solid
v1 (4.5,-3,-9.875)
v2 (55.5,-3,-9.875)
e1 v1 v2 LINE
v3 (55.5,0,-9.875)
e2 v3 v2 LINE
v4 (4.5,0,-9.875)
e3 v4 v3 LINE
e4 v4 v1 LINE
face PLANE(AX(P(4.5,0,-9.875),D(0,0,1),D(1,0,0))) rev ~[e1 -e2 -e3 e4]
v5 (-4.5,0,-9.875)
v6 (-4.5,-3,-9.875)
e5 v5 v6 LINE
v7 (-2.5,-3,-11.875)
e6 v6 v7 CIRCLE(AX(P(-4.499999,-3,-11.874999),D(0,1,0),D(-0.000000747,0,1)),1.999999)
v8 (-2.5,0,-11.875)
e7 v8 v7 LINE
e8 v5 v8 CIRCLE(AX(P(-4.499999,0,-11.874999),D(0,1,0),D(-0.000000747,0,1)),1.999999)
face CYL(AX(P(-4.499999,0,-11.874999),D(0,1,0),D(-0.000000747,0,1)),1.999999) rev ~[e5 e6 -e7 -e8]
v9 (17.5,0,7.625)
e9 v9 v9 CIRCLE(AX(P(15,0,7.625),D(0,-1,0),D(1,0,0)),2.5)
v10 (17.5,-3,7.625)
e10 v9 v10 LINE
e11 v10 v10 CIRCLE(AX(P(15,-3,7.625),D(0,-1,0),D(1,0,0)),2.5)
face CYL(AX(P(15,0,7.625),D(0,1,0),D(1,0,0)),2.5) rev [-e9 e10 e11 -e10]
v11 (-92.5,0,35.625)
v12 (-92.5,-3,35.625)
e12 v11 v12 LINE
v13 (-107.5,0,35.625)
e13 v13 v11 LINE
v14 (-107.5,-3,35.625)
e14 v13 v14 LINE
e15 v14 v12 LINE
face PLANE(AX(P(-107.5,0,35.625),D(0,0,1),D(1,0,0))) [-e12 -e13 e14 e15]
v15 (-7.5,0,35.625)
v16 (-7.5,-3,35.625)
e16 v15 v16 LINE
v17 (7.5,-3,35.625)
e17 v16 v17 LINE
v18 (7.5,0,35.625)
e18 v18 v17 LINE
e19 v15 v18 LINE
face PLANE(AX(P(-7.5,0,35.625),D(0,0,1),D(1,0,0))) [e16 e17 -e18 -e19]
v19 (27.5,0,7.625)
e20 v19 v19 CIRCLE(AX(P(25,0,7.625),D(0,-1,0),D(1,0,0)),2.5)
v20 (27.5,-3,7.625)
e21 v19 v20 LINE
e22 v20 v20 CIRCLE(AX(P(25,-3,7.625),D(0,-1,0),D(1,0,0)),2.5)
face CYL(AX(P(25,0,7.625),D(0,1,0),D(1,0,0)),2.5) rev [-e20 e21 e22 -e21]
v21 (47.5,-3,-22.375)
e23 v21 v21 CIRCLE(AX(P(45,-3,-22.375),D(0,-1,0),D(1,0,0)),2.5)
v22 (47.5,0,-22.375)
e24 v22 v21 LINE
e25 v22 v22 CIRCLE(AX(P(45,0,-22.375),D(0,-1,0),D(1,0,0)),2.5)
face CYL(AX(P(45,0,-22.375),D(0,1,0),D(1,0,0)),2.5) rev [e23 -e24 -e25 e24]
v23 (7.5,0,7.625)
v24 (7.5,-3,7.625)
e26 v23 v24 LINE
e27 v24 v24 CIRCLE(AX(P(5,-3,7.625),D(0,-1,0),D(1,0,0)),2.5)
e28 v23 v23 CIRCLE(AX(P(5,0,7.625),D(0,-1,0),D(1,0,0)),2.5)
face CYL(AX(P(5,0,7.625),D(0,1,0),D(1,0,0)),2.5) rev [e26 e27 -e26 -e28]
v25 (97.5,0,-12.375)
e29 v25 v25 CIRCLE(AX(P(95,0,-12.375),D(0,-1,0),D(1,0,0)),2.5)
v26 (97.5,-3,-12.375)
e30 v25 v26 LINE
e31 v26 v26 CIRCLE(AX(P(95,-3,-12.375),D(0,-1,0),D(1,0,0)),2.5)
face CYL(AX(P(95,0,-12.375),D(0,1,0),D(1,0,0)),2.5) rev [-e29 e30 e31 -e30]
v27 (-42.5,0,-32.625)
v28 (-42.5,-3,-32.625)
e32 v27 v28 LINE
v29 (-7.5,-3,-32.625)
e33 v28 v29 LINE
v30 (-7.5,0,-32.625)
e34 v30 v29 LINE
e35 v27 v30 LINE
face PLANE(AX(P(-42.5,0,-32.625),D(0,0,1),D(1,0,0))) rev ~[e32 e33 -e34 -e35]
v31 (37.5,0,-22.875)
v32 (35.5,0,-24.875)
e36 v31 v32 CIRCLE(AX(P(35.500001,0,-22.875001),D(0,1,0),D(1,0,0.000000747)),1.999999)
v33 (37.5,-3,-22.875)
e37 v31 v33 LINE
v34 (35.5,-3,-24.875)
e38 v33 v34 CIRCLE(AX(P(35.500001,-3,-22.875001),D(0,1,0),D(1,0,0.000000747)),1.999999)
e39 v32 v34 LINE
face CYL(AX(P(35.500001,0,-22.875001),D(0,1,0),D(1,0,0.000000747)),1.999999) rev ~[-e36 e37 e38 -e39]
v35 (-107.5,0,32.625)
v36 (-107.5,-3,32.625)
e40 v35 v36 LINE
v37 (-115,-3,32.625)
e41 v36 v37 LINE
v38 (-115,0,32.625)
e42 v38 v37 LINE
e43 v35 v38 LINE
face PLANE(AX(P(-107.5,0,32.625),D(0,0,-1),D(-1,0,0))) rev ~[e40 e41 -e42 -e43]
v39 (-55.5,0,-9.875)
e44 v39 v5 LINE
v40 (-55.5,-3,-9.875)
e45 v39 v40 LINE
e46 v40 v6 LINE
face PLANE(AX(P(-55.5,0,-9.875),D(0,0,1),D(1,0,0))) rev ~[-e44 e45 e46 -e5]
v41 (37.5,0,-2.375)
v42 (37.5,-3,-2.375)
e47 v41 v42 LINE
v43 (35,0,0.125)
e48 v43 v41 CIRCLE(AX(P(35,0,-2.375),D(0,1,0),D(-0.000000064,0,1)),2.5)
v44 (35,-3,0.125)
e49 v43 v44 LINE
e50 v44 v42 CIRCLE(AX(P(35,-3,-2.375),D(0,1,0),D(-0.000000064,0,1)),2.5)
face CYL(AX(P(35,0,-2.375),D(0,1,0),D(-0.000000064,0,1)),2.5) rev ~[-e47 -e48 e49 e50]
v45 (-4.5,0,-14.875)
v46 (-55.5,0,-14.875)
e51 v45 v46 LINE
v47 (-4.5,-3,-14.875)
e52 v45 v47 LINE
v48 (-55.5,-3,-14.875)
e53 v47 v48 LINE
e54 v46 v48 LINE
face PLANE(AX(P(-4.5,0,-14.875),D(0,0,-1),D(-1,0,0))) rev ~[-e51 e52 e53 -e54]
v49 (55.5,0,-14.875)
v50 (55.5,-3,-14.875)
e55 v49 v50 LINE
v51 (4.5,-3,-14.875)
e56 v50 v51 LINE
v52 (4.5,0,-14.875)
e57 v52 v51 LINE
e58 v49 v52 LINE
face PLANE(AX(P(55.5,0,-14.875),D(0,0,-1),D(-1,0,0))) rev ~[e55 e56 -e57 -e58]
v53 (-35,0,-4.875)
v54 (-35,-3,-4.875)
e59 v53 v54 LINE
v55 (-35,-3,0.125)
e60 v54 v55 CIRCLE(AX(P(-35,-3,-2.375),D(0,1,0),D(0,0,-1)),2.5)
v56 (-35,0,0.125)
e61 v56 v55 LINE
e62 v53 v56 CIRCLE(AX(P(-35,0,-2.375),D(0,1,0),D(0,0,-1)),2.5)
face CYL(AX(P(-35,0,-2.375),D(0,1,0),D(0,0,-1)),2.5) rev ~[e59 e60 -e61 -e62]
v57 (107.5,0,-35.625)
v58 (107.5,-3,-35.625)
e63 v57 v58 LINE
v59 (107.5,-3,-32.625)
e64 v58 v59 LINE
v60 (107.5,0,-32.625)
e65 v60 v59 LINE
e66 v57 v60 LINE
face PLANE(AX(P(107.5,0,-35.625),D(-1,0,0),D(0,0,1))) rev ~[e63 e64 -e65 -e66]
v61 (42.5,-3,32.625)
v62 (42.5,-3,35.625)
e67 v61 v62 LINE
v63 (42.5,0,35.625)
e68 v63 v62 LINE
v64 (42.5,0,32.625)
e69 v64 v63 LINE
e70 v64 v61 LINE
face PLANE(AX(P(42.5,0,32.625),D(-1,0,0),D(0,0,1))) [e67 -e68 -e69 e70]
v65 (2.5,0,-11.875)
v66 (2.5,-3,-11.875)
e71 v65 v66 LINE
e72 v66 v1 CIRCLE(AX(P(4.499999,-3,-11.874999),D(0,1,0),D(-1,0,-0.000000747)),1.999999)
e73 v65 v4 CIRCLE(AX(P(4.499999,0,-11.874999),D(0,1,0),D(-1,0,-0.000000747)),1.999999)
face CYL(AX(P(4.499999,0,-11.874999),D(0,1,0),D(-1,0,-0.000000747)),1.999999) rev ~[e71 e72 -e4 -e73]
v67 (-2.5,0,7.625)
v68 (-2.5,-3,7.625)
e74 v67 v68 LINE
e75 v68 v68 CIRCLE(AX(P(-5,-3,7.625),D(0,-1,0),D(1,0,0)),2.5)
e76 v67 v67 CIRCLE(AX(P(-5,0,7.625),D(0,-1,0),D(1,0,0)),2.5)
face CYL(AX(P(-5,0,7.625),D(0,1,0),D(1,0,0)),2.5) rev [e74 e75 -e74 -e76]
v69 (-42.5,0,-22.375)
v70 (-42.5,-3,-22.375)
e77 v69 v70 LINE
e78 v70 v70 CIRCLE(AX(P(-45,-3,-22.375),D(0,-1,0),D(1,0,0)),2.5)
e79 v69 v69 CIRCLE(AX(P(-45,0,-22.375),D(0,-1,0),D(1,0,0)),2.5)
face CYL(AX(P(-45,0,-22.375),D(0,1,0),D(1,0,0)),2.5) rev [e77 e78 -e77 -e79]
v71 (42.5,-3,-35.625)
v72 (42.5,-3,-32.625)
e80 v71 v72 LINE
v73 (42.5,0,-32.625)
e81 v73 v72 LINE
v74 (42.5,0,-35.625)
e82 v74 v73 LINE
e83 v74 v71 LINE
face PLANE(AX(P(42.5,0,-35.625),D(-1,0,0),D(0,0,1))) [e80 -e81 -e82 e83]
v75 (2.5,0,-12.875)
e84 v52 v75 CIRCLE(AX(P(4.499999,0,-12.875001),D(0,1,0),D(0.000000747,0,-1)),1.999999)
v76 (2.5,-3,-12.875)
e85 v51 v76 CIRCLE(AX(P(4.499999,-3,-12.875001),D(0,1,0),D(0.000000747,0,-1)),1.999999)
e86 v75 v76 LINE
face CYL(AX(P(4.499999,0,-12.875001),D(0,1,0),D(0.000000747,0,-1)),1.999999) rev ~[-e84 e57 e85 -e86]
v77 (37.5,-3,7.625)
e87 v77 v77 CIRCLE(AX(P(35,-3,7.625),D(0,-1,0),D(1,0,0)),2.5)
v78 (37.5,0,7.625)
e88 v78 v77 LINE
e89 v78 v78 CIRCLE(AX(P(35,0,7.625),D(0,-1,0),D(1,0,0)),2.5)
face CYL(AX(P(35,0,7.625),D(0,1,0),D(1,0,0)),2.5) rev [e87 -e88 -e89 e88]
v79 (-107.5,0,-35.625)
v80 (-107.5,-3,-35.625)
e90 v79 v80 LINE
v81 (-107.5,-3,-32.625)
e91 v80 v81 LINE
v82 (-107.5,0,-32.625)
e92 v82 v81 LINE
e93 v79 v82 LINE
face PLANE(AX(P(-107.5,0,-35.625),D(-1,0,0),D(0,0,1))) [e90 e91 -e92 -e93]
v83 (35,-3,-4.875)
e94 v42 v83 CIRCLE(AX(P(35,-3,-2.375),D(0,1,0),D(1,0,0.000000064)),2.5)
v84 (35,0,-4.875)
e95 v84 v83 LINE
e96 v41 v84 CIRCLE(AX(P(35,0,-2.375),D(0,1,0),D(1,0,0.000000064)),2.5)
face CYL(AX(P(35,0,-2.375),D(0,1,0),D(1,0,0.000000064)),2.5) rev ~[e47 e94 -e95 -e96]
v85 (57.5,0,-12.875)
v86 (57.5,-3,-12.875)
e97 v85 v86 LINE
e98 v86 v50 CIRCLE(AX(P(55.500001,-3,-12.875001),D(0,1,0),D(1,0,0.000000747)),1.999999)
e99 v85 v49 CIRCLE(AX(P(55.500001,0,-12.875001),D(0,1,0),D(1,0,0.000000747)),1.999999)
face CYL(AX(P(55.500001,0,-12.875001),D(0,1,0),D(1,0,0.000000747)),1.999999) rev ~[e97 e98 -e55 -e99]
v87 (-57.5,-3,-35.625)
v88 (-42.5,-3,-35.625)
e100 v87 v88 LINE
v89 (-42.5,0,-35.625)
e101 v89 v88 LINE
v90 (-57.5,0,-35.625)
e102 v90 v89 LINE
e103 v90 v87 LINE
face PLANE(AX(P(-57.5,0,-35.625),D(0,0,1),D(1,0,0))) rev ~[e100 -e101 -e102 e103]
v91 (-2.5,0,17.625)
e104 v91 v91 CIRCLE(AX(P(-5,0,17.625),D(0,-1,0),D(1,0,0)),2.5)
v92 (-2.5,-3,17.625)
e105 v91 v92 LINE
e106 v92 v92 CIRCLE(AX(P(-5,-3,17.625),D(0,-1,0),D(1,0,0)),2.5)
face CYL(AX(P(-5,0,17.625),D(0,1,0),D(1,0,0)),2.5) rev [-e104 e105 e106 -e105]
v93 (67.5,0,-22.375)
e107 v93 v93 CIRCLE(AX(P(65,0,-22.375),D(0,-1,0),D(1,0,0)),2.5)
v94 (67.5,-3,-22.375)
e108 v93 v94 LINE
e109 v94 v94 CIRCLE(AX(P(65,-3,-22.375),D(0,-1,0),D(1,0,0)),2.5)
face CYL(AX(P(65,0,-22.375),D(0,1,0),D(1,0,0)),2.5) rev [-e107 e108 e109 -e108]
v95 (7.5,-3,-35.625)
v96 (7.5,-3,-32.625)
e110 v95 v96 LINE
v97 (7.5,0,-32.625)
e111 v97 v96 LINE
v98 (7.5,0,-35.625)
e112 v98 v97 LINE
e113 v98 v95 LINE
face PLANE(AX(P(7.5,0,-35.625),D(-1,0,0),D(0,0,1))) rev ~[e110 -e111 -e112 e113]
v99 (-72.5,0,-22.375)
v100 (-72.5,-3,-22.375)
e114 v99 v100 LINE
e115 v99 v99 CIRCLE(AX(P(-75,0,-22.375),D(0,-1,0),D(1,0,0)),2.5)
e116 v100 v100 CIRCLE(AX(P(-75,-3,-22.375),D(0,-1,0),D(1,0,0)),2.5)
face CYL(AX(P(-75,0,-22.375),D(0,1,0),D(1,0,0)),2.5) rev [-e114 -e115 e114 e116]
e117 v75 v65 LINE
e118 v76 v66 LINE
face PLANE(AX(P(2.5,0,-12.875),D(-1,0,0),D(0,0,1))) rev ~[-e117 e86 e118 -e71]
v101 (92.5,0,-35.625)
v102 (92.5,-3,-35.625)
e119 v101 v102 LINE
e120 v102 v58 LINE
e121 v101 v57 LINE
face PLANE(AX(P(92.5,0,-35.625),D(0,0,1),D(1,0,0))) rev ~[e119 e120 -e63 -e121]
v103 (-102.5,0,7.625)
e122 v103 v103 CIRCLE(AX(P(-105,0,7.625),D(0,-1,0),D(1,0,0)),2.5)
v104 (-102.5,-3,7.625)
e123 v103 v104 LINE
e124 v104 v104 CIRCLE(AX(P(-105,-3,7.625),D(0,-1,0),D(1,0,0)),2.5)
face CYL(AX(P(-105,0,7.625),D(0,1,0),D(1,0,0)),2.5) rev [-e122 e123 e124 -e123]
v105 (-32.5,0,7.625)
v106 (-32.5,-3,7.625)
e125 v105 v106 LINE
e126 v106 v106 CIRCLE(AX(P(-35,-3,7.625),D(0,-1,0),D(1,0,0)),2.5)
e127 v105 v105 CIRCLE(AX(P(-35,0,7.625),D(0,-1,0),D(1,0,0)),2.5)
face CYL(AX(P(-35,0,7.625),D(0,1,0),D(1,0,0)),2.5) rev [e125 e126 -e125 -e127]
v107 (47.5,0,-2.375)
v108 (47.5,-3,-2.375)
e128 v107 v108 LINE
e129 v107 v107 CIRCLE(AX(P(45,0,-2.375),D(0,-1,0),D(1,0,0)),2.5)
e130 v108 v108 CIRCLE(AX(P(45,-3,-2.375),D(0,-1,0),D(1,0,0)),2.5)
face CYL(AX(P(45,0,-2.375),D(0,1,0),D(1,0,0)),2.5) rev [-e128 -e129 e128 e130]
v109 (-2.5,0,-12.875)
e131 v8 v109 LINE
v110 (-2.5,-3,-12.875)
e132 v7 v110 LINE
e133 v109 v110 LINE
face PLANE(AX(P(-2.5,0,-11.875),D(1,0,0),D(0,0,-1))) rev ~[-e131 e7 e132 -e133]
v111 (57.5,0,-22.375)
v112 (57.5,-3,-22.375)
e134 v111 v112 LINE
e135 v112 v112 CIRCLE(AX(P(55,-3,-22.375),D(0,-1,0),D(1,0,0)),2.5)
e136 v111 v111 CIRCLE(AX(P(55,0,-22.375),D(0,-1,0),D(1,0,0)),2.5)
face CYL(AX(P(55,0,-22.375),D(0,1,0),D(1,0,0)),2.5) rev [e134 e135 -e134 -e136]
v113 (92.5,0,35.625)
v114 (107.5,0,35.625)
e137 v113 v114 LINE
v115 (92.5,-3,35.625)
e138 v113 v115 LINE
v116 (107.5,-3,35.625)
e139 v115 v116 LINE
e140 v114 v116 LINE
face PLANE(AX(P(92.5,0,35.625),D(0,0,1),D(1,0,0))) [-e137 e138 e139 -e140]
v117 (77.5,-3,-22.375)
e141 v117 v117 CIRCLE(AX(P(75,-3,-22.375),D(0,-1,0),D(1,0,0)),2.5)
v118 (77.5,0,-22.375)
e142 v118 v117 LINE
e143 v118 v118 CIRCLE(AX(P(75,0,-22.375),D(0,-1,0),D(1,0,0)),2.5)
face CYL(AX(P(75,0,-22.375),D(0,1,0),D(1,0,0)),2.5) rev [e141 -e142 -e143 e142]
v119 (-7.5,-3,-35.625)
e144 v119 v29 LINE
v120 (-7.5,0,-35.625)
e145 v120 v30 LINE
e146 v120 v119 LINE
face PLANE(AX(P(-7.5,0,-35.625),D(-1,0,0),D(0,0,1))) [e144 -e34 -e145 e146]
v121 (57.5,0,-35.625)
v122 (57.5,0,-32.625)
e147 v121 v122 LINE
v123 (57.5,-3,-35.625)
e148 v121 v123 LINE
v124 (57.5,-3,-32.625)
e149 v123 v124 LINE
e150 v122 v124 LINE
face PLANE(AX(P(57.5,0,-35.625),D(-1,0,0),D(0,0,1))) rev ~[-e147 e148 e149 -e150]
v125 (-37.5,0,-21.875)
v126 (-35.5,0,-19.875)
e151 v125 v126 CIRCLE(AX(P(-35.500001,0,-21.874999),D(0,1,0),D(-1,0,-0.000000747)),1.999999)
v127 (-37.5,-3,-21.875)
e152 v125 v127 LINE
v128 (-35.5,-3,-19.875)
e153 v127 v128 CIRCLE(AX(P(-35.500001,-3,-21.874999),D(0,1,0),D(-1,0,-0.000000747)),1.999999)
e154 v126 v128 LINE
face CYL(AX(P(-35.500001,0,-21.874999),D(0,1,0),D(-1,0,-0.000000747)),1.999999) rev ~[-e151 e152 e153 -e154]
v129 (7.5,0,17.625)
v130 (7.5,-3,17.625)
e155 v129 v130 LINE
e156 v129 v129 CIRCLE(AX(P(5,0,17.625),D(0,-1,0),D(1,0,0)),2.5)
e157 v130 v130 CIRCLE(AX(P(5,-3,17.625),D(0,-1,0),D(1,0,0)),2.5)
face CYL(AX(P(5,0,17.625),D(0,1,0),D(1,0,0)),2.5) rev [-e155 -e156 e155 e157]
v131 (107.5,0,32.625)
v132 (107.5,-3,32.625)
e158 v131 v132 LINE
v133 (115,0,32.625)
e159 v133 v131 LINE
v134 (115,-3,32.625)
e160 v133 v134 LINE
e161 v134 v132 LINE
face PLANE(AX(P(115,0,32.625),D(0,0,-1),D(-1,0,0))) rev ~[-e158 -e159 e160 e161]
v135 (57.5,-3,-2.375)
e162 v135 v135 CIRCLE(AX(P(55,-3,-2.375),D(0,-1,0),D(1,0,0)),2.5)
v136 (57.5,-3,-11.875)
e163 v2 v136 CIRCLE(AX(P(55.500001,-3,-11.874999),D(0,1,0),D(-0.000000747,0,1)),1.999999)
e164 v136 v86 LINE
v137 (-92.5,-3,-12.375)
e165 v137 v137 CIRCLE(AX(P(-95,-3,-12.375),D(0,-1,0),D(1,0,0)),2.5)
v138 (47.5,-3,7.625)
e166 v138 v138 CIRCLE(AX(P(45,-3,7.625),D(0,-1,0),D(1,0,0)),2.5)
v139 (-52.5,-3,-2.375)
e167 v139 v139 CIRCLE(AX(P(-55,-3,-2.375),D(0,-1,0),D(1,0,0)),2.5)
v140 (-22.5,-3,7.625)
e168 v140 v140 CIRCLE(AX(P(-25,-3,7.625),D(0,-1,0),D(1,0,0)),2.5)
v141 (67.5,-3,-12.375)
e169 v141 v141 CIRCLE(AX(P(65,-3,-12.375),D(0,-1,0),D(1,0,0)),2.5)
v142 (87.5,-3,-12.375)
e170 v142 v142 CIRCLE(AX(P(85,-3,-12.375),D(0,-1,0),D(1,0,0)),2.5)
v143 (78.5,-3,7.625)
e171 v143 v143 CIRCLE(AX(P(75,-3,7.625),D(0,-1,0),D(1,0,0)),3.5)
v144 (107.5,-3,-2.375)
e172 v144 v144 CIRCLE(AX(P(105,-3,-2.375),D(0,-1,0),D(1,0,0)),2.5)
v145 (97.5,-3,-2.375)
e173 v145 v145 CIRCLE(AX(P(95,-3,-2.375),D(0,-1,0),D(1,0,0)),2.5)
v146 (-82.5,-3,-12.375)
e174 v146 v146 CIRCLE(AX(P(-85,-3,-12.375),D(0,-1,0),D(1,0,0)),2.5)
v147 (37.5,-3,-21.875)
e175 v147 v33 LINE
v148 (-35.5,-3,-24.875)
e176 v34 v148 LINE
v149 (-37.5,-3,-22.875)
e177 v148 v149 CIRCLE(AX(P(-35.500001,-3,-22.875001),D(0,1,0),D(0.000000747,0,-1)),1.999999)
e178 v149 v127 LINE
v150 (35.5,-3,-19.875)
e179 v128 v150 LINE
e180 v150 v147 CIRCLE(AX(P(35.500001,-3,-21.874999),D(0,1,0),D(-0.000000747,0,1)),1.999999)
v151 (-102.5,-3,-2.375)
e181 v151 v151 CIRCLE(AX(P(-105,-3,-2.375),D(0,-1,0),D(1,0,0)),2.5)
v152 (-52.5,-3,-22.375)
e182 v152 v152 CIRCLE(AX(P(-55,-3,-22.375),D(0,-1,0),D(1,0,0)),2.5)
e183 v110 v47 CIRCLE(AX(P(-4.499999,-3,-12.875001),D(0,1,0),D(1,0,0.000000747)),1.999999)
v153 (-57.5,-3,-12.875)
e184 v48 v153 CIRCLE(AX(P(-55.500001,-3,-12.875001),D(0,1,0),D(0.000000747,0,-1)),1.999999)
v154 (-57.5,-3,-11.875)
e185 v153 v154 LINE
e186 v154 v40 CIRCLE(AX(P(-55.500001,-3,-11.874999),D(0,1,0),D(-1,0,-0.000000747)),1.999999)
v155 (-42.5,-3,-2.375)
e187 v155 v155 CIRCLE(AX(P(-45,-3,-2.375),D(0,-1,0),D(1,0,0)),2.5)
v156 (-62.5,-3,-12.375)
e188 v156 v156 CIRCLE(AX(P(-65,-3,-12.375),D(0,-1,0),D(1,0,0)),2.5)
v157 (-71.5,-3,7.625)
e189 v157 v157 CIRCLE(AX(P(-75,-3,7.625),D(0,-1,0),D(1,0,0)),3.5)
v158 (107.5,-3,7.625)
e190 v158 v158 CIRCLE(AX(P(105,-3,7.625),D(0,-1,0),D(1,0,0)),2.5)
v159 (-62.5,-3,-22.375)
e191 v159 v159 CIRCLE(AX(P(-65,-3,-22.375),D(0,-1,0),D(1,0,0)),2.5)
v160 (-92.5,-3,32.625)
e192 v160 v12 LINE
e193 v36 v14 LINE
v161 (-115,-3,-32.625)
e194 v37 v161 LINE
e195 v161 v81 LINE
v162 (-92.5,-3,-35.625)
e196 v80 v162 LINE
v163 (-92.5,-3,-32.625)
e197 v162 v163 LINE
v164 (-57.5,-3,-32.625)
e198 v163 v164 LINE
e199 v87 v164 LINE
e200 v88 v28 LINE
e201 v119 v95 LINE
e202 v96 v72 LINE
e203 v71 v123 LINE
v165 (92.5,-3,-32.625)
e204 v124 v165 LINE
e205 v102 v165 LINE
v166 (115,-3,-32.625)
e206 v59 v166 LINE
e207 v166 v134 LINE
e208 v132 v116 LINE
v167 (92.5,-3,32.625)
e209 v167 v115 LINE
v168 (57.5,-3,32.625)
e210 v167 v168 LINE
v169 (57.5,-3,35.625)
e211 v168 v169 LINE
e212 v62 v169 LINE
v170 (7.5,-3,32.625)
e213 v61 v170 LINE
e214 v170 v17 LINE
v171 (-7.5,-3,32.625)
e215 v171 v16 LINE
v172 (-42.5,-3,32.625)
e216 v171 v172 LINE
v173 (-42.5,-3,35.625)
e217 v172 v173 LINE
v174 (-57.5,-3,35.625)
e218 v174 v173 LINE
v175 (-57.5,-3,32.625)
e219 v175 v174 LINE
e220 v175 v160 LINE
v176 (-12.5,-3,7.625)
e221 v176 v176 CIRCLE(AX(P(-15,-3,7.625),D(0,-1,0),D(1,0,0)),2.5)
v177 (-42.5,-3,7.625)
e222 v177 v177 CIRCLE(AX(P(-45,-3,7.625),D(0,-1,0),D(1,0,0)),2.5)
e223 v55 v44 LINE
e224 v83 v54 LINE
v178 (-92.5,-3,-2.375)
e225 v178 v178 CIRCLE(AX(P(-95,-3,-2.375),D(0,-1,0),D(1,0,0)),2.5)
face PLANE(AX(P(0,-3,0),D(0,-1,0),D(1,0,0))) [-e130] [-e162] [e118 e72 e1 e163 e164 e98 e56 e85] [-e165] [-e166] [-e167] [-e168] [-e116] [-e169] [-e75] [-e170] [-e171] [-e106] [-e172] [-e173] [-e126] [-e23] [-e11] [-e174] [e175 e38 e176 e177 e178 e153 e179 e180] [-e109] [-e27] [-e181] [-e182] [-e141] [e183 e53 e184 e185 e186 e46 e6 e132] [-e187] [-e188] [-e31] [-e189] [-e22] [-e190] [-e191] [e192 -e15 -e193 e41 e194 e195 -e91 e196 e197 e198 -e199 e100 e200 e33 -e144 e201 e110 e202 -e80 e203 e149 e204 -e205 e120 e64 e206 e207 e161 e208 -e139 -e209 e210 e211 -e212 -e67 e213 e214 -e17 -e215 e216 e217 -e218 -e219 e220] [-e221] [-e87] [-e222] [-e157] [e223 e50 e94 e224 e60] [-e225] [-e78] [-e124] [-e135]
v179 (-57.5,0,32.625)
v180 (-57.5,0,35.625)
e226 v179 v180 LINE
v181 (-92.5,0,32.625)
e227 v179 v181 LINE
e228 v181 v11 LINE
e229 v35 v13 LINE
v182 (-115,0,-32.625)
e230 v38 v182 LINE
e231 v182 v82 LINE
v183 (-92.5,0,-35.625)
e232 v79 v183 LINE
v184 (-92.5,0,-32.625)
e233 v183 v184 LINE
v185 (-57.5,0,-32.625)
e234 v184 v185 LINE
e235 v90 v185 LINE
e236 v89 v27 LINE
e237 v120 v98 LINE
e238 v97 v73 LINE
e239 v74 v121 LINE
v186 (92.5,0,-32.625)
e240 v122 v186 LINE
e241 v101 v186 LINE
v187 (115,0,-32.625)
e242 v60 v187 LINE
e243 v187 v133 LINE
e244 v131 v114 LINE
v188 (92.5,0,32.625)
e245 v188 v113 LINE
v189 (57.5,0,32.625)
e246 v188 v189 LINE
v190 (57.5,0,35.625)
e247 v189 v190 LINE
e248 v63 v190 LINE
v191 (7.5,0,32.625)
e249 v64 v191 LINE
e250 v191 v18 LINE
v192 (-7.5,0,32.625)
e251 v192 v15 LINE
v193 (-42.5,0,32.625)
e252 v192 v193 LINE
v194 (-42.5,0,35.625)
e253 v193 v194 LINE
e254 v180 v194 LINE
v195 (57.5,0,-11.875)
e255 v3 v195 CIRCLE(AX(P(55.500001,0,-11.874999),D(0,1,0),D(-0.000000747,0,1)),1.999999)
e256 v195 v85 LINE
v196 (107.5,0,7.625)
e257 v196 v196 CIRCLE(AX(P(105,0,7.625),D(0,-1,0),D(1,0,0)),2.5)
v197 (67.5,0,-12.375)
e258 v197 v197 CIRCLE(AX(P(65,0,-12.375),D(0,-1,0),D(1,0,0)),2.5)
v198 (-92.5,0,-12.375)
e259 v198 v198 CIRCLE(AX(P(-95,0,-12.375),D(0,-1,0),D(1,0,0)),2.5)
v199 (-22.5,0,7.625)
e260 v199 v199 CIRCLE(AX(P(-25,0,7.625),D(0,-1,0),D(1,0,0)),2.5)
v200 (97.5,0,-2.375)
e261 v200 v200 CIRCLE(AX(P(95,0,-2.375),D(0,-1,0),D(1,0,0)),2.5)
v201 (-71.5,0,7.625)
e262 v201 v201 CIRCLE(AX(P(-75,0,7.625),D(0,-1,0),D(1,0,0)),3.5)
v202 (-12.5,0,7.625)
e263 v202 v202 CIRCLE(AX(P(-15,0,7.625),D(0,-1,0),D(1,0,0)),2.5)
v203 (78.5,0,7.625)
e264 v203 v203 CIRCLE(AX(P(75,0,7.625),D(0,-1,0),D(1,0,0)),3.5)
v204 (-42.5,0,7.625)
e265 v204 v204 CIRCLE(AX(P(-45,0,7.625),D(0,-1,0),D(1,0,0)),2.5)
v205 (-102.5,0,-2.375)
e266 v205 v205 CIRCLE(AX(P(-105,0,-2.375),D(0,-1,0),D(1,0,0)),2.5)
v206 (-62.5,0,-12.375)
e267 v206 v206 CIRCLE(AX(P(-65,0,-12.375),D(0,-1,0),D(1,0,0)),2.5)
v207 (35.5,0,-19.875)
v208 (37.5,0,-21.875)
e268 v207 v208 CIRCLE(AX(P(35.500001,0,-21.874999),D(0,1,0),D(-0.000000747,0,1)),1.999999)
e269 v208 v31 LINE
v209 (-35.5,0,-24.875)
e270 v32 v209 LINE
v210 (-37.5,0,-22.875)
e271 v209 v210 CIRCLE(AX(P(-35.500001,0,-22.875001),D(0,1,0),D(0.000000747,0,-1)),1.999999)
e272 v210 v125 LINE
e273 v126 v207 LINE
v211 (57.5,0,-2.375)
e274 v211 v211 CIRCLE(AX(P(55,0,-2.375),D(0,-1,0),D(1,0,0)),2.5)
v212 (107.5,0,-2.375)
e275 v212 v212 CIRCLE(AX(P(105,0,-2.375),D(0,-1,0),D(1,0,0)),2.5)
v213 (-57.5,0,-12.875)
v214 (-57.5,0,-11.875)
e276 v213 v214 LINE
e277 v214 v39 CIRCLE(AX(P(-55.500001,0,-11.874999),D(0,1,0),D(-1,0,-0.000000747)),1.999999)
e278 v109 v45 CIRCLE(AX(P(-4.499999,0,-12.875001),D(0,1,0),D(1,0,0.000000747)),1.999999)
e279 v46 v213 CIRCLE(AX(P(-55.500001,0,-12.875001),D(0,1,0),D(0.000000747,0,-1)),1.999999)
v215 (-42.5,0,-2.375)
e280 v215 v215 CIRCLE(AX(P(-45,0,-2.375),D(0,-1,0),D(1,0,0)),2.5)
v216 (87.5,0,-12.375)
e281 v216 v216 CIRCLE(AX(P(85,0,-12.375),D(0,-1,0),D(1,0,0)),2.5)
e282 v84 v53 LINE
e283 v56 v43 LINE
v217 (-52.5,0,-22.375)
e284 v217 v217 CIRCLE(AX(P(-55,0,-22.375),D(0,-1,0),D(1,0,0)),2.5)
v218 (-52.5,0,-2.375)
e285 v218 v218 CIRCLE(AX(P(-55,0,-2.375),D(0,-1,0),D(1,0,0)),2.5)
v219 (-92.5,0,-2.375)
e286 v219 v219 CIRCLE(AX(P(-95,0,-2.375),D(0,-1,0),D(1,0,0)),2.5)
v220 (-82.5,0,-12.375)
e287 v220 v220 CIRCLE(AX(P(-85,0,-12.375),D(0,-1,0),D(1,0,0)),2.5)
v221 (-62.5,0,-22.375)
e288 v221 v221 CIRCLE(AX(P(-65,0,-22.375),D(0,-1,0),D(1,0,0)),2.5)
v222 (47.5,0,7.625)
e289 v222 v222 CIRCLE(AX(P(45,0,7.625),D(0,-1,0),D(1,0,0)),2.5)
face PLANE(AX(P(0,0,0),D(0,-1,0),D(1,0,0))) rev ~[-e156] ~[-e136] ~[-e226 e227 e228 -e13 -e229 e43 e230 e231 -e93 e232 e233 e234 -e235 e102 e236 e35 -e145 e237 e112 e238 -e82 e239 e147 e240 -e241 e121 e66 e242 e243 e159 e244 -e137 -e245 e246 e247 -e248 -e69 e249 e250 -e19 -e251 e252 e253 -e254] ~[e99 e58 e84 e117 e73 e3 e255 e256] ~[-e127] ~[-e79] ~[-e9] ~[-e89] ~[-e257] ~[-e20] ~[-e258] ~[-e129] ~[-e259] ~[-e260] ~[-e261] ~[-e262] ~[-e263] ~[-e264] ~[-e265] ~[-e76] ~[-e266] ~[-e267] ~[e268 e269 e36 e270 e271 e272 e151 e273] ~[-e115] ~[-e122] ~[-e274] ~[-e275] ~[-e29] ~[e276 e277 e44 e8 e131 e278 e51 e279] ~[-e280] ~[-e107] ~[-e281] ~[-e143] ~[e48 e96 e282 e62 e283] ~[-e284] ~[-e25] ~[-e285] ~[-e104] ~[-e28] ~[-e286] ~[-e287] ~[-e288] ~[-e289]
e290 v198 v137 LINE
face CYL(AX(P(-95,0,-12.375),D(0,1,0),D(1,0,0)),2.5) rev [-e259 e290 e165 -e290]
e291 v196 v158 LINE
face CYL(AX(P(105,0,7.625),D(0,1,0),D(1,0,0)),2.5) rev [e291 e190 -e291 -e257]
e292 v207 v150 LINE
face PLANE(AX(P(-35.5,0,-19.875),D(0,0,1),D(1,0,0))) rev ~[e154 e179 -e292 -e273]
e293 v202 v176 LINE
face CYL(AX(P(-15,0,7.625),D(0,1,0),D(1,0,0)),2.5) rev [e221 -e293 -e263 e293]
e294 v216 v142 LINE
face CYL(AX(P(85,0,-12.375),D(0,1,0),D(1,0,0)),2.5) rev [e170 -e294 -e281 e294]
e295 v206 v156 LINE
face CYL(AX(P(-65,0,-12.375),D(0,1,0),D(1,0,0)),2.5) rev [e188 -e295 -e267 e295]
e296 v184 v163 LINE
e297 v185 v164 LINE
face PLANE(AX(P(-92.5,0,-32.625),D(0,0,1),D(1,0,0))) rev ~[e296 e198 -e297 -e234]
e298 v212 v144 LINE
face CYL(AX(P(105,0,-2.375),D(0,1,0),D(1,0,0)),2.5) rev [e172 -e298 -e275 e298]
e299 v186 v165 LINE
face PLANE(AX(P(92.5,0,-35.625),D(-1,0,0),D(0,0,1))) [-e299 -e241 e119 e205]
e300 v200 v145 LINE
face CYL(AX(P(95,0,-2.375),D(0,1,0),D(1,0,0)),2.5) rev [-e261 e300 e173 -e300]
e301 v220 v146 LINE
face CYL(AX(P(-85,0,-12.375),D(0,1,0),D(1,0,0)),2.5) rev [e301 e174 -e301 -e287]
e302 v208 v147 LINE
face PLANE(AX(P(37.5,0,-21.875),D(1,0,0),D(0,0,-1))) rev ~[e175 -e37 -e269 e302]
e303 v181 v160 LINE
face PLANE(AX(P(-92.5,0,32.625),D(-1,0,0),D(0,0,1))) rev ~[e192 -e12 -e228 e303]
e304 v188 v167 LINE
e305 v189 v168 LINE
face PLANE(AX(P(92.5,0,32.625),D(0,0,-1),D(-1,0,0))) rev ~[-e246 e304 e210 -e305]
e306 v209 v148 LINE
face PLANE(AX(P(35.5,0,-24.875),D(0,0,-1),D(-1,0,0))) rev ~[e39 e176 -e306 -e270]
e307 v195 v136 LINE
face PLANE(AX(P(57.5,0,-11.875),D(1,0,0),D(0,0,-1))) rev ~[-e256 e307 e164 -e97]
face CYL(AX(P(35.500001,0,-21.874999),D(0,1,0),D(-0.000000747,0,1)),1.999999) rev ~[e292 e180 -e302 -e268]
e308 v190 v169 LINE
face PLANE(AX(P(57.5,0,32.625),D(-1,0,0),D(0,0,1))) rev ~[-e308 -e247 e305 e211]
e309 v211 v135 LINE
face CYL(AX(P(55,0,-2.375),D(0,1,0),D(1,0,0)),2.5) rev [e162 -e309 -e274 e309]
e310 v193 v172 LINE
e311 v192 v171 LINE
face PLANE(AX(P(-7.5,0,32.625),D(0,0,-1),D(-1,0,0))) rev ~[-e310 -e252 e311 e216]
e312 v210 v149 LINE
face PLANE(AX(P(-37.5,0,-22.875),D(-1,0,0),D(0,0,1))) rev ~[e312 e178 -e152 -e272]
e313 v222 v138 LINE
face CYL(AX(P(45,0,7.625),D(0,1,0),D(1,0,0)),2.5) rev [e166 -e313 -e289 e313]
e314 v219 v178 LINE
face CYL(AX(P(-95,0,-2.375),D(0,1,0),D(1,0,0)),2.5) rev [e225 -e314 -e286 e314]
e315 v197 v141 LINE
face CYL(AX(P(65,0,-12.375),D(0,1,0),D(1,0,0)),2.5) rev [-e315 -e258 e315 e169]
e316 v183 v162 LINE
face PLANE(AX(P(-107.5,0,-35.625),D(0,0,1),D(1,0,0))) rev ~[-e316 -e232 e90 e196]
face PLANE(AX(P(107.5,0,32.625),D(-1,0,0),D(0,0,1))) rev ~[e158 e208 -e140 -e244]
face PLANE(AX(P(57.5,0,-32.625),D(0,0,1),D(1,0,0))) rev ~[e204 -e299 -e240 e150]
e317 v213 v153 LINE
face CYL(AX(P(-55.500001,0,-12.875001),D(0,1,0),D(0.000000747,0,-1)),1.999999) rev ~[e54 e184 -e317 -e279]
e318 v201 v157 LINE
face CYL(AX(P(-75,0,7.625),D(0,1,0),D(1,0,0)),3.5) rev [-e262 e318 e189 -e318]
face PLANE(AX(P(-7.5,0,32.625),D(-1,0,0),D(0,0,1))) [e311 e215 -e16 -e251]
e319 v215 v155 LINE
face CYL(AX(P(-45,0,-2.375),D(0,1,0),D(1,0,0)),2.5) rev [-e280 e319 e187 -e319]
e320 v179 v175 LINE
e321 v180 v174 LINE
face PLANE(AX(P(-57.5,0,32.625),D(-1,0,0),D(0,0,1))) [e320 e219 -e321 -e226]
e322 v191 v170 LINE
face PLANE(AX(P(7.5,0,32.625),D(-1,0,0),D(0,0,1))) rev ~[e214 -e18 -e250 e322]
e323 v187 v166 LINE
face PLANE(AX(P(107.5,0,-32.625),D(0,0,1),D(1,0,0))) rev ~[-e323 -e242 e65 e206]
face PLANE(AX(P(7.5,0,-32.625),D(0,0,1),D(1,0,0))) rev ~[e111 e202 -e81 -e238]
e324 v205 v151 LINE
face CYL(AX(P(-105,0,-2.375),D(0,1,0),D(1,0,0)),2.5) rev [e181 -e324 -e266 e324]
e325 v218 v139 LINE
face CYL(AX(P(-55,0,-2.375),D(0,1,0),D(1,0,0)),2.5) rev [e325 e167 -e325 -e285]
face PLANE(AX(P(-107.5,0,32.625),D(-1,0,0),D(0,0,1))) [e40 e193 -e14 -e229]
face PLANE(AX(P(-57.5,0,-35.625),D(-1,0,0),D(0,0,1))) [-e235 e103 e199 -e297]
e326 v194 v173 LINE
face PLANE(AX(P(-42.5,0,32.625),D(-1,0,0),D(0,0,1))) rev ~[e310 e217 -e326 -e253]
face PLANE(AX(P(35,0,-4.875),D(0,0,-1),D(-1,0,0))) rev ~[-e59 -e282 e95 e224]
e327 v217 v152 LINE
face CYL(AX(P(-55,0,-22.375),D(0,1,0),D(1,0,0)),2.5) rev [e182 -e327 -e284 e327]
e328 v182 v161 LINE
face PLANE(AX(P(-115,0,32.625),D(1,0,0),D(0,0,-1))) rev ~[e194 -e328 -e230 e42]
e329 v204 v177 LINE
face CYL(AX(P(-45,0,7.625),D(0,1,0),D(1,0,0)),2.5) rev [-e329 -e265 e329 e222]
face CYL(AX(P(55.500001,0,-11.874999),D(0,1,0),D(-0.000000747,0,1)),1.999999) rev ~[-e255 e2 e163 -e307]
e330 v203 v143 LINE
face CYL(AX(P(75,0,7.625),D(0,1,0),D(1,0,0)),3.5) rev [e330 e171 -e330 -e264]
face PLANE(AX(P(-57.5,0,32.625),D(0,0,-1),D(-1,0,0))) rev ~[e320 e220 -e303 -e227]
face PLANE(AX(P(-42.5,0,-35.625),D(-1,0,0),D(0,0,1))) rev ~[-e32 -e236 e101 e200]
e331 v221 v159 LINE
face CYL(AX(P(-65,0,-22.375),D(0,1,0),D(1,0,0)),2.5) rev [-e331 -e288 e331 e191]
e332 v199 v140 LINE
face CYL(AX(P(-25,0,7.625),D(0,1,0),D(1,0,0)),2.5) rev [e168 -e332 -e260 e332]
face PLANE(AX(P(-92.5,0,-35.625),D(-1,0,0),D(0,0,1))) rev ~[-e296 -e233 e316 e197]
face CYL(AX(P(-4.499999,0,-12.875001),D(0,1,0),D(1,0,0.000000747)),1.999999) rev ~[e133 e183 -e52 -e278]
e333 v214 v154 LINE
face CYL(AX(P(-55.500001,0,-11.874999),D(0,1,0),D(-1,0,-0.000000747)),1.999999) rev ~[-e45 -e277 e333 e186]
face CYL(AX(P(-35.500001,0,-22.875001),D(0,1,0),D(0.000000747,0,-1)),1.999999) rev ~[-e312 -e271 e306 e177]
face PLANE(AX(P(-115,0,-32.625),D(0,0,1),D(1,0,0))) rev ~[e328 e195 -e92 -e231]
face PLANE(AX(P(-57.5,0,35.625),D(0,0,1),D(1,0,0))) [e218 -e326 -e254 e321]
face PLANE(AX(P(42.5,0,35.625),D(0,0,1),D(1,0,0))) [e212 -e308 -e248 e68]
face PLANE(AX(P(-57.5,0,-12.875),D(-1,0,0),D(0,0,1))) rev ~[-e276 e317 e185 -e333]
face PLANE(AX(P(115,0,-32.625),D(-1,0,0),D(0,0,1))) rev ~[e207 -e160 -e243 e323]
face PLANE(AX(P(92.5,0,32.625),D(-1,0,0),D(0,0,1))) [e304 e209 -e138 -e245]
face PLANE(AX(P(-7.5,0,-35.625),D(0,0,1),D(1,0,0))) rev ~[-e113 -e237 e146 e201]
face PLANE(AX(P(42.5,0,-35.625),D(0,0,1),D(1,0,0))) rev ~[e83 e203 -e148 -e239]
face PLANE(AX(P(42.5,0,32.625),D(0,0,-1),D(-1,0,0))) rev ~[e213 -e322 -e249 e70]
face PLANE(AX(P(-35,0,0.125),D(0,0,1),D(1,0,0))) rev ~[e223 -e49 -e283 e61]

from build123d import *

# Parameters (mm, degrees)
F0_R     = 2.5
F0_R_2   = 3.5
F0_W     = 15
F0_H     = 3
F1_DEPTH = 3


with BuildPart() as f1:
    # F0 (on Front) → F1 (new body)
    with BuildSketch(Plane.XZ):
        Polygon((107.5, -32.625), (115, -32.625), (115, 32.625), (107.5, 32.625), (92.5, 32.625), (57.5, 32.625), (42.5, 32.625), (7.5, 32.625), (-7.5, 32.625), (-42.5, 32.625), (-57.5, 32.625), (-92.5, 32.625), (-107.5, 32.625), (-115, 32.625), (-115, -32.625), (-107.5, -32.625), (-92.5, -32.625), (-57.5, -32.625), (-42.5, -32.625), (-7.5, -32.625), (7.5, -32.625), (42.5, -32.625), (57.5, -32.625), (92.5, -32.625), align=None)
        with Locations((-75, -22.375)):
            Circle(F0_R, mode=Mode.SUBTRACT)
        with Locations((-65, -22.375)):
            Circle(F0_R, mode=Mode.SUBTRACT)
        with Locations((-55, -22.375)):
            Circle(F0_R, mode=Mode.SUBTRACT)
        with Locations((-45, -22.375)):
            Circle(F0_R, mode=Mode.SUBTRACT)
        with Locations((-95, -12.375)):
            Circle(F0_R, mode=Mode.SUBTRACT)
        with Locations((-85, -12.375)):
            Circle(F0_R, mode=Mode.SUBTRACT)
        with Locations((-65, -12.375)):
            Circle(F0_R, mode=Mode.SUBTRACT)
        with Locations((-105, -2.375)):
            Circle(F0_R, mode=Mode.SUBTRACT)
        with Locations((-95, -2.375)):
            Circle(F0_R, mode=Mode.SUBTRACT)
        with BuildLine():
            Line((-55.5, -9.875), (-55, -9.875))
            Line((-55, -9.875), (-45, -9.875))
            Line((-45, -9.875), (-35, -9.875))
            Line((-35, -9.875), (-25, -9.875))
            Line((-25, -9.875), (-15, -9.875))
            Line((-15, -9.875), (-5, -9.875))
            Line((-5, -9.875), (-4.5, -9.875))
            ThreePointArc((-4.5, -9.875), (-3.085786, -10.460786), (-2.5, -11.875))
            Line((-2.5, -11.875), (-2.5, -12.375))
            Line((-2.5, -12.375), (-2.5, -12.875))
            ThreePointArc((-2.5, -12.875), (-3.085786, -14.289214), (-4.5, -14.875))
            Line((-4.5, -14.875), (-5, -14.875))
            Line((-5, -14.875), (-15, -14.875))
            Line((-15, -14.875), (-25, -14.875))
            Line((-25, -14.875), (-35, -14.875))
            Line((-35, -14.875), (-45, -14.875))
            Line((-45, -14.875), (-55, -14.875))
            Line((-55, -14.875), (-55.5, -14.875))
            ThreePointArc((-55.5, -14.875), (-56.914214, -14.289214), (-57.5, -12.875))
            Line((-57.5, -12.875), (-57.5, -12.375))
            Line((-57.5, -12.375), (-57.5, -11.875))
            ThreePointArc((-57.5, -11.875), (-56.914214, -10.460786), (-55.5, -9.875))
        make_face(mode=Mode.SUBTRACT)
        with Locations((-55, -2.375)):
            Circle(F0_R, mode=Mode.SUBTRACT)
        with Locations((-45, -2.375)):
            Circle(F0_R, mode=Mode.SUBTRACT)
        with BuildLine():
            Line((-35.5, -19.875), (-35, -19.875))
            Line((-35, -19.875), (-25, -19.875))
            Line((-25, -19.875), (-15, -19.875))
            Line((-15, -19.875), (-5, -19.875))
            Line((-5, -19.875), (5, -19.875))
            Line((5, -19.875), (15, -19.875))
            Line((15, -19.875), (25, -19.875))
            Line((25, -19.875), (35, -19.875))
            Line((35, -19.875), (35.5, -19.875))
            ThreePointArc((35.5, -19.875), (36.914214, -20.460786), (37.5, -21.875))
            Line((37.5, -21.875), (37.5, -22.375))
            Line((37.5, -22.375), (37.5, -22.875))
            ThreePointArc((37.5, -22.875), (36.914214, -24.289214), (35.5, -24.875))
            Line((35.5, -24.875), (35, -24.875))
            Line((35, -24.875), (25, -24.875))
            Line((25, -24.875), (15, -24.875))
            Line((15, -24.875), (5, -24.875))
            Line((5, -24.875), (-5, -24.875))
            Line((-5, -24.875), (-15, -24.875))
            Line((-15, -24.875), (-25, -24.875))
            Line((-25, -24.875), (-35, -24.875))
            Line((-35, -24.875), (-35.5, -24.875))
            ThreePointArc((-35.5, -24.875), (-36.914214, -24.289214), (-37.5, -22.875))
            Line((-37.5, -22.875), (-37.5, -22.375))
            Line((-37.5, -22.375), (-37.5, -21.875))
            ThreePointArc((-37.5, -21.875), (-36.914214, -20.460786), (-35.5, -19.875))
        make_face(mode=Mode.SUBTRACT)
        with Locations((45, -22.375)):
            Circle(F0_R, mode=Mode.SUBTRACT)
        with Locations((55, -22.375)):
            Circle(F0_R, mode=Mode.SUBTRACT)
        with Locations((65, -22.375)):
            Circle(F0_R, mode=Mode.SUBTRACT)
        with Locations((75, -22.375)):
            Circle(F0_R, mode=Mode.SUBTRACT)
        with BuildLine():
            Line((4.5, -9.875), (5, -9.875))
            Line((5, -9.875), (15, -9.875))
            Line((15, -9.875), (25, -9.875))
            Line((25, -9.875), (35, -9.875))
            Line((35, -9.875), (45, -9.875))
            Line((45, -9.875), (55, -9.875))
            Line((55, -9.875), (55.5, -9.875))
            ThreePointArc((55.5, -9.875), (56.914214, -10.460786), (57.5, -11.875))
            Line((57.5, -11.875), (57.5, -12.375))
            Line((57.5, -12.375), (57.5, -12.875))
            ThreePointArc((57.5, -12.875), (56.914214, -14.289214), (55.5, -14.875))
            Line((55.5, -14.875), (55, -14.875))
            Line((55, -14.875), (45, -14.875))
            Line((45, -14.875), (35, -14.875))
            Line((35, -14.875), (25, -14.875))
            Line((25, -14.875), (15, -14.875))
            Line((15, -14.875), (5, -14.875))
            Line((5, -14.875), (4.5, -14.875))
            ThreePointArc((4.5, -14.875), (3.085786, -14.289214), (2.5, -12.875))
            Line((2.5, -12.875), (2.5, -12.375))
            Line((2.5, -12.375), (2.5, -11.875))
            ThreePointArc((2.5, -11.875), (3.085786, -10.460786), (4.5, -9.875))
        make_face(mode=Mode.SUBTRACT)
        with BuildLine():
            ThreePointArc((-35, -4.875), (-37.5, -2.375), (-35, 0.125))
            Line((-35, 0.125), (-25, 0.125))
            Line((-25, 0.125), (-15, 0.125))
            Line((-15, 0.125), (-5, 0.125))
            Line((-5, 0.125), (5, 0.125))
            Line((5, 0.125), (15, 0.125))
            Line((15, 0.125), (25, 0.125))
            Line((25, 0.125), (35, 0.125))
            ThreePointArc((35, 0.125), (36.767767, -0.607233), (37.5, -2.375))
            ThreePointArc((37.5, -2.375), (36.767767, -4.142767), (35, -4.875))
            Line((35, -4.875), (25, -4.875))
            Line((25, -4.875), (15, -4.875))
            Line((15, -4.875), (5, -4.875))
            Line((5, -4.875), (-5, -4.875))
            Line((-5, -4.875), (-15, -4.875))
            Line((-15, -4.875), (-25, -4.875))
            Line((-25, -4.875), (-35, -4.875))
        make_face(mode=Mode.SUBTRACT)
        with Locations((45, -2.375)):
            Circle(F0_R, mode=Mode.SUBTRACT)
        with Locations((55, -2.375)):
            Circle(F0_R, mode=Mode.SUBTRACT)
        with Locations((65, -12.375)):
            Circle(F0_R, mode=Mode.SUBTRACT)
        with Locations((85, -12.375)):
            Circle(F0_R, mode=Mode.SUBTRACT)
        with Locations((95, -12.375)):
            Circle(F0_R, mode=Mode.SUBTRACT)
        with Locations((95, -2.375)):
            Circle(F0_R, mode=Mode.SUBTRACT)
        with Locations((105, -2.375)):
            Circle(F0_R, mode=Mode.SUBTRACT)
        with Locations((-105, 7.625)):
            Circle(F0_R, mode=Mode.SUBTRACT)
        with Locations((-75, 7.625)):
            Circle(F0_R_2, mode=Mode.SUBTRACT)
        with Locations((-45, 7.625)):
            Circle(F0_R, mode=Mode.SUBTRACT)
        with Locations((-35, 7.625)):
            Circle(F0_R, mode=Mode.SUBTRACT)
        with Locations((-25, 7.625)):
            Circle(F0_R, mode=Mode.SUBTRACT)
        with Locations((-15, 7.625)):
            Circle(F0_R, mode=Mode.SUBTRACT)
        with Locations((-5, 7.625)):
            Circle(F0_R, mode=Mode.SUBTRACT)
        with Locations((-5, 17.625)):
            Circle(F0_R, mode=Mode.SUBTRACT)
        with Locations((5, 7.625)):
            Circle(F0_R, mode=Mode.SUBTRACT)
        with Locations((15, 7.625)):
            Circle(F0_R, mode=Mode.SUBTRACT)
        with Locations((25, 7.625)):
            Circle(F0_R, mode=Mode.SUBTRACT)
        with Locations((35, 7.625)):
            Circle(F0_R, mode=Mode.SUBTRACT)
        with Locations((45, 7.625)):
            Circle(F0_R, mode=Mode.SUBTRACT)
        with Locations((5, 17.625)):
            Circle(F0_R, mode=Mode.SUBTRACT)
        with Locations((75, 7.625)):
            Circle(F0_R_2, mode=Mode.SUBTRACT)
        with Locations((105, 7.625)):
            Circle(F0_R, mode=Mode.SUBTRACT)
        with Locations((100, -34.125)):
            Rectangle(F0_W, F0_H)
        with Locations((100, 34.125)):
            Rectangle(F0_W, F0_H)
        with Locations((50, -34.125)):
            Rectangle(F0_W, F0_H)
        with Locations((50, 34.125)):
            Rectangle(F0_W, F0_H)
        with Locations((0, -34.125)):
            Rectangle(F0_W, F0_H)
        with Locations((0, 34.125)):
            Rectangle(F0_W, F0_H)
        with Locations((-50, -34.125)):
            Rectangle(F0_W, F0_H)
        with Locations((-50, 34.125)):
            Rectangle(F0_W, F0_H)
        with Locations((-100, -34.125)):
            Rectangle(F0_W, F0_H)
        with Locations((-100, 34.125)):
            Rectangle(F0_W, F0_H)
    extrude(amount=F1_DEPTH)


solid = f1.part
